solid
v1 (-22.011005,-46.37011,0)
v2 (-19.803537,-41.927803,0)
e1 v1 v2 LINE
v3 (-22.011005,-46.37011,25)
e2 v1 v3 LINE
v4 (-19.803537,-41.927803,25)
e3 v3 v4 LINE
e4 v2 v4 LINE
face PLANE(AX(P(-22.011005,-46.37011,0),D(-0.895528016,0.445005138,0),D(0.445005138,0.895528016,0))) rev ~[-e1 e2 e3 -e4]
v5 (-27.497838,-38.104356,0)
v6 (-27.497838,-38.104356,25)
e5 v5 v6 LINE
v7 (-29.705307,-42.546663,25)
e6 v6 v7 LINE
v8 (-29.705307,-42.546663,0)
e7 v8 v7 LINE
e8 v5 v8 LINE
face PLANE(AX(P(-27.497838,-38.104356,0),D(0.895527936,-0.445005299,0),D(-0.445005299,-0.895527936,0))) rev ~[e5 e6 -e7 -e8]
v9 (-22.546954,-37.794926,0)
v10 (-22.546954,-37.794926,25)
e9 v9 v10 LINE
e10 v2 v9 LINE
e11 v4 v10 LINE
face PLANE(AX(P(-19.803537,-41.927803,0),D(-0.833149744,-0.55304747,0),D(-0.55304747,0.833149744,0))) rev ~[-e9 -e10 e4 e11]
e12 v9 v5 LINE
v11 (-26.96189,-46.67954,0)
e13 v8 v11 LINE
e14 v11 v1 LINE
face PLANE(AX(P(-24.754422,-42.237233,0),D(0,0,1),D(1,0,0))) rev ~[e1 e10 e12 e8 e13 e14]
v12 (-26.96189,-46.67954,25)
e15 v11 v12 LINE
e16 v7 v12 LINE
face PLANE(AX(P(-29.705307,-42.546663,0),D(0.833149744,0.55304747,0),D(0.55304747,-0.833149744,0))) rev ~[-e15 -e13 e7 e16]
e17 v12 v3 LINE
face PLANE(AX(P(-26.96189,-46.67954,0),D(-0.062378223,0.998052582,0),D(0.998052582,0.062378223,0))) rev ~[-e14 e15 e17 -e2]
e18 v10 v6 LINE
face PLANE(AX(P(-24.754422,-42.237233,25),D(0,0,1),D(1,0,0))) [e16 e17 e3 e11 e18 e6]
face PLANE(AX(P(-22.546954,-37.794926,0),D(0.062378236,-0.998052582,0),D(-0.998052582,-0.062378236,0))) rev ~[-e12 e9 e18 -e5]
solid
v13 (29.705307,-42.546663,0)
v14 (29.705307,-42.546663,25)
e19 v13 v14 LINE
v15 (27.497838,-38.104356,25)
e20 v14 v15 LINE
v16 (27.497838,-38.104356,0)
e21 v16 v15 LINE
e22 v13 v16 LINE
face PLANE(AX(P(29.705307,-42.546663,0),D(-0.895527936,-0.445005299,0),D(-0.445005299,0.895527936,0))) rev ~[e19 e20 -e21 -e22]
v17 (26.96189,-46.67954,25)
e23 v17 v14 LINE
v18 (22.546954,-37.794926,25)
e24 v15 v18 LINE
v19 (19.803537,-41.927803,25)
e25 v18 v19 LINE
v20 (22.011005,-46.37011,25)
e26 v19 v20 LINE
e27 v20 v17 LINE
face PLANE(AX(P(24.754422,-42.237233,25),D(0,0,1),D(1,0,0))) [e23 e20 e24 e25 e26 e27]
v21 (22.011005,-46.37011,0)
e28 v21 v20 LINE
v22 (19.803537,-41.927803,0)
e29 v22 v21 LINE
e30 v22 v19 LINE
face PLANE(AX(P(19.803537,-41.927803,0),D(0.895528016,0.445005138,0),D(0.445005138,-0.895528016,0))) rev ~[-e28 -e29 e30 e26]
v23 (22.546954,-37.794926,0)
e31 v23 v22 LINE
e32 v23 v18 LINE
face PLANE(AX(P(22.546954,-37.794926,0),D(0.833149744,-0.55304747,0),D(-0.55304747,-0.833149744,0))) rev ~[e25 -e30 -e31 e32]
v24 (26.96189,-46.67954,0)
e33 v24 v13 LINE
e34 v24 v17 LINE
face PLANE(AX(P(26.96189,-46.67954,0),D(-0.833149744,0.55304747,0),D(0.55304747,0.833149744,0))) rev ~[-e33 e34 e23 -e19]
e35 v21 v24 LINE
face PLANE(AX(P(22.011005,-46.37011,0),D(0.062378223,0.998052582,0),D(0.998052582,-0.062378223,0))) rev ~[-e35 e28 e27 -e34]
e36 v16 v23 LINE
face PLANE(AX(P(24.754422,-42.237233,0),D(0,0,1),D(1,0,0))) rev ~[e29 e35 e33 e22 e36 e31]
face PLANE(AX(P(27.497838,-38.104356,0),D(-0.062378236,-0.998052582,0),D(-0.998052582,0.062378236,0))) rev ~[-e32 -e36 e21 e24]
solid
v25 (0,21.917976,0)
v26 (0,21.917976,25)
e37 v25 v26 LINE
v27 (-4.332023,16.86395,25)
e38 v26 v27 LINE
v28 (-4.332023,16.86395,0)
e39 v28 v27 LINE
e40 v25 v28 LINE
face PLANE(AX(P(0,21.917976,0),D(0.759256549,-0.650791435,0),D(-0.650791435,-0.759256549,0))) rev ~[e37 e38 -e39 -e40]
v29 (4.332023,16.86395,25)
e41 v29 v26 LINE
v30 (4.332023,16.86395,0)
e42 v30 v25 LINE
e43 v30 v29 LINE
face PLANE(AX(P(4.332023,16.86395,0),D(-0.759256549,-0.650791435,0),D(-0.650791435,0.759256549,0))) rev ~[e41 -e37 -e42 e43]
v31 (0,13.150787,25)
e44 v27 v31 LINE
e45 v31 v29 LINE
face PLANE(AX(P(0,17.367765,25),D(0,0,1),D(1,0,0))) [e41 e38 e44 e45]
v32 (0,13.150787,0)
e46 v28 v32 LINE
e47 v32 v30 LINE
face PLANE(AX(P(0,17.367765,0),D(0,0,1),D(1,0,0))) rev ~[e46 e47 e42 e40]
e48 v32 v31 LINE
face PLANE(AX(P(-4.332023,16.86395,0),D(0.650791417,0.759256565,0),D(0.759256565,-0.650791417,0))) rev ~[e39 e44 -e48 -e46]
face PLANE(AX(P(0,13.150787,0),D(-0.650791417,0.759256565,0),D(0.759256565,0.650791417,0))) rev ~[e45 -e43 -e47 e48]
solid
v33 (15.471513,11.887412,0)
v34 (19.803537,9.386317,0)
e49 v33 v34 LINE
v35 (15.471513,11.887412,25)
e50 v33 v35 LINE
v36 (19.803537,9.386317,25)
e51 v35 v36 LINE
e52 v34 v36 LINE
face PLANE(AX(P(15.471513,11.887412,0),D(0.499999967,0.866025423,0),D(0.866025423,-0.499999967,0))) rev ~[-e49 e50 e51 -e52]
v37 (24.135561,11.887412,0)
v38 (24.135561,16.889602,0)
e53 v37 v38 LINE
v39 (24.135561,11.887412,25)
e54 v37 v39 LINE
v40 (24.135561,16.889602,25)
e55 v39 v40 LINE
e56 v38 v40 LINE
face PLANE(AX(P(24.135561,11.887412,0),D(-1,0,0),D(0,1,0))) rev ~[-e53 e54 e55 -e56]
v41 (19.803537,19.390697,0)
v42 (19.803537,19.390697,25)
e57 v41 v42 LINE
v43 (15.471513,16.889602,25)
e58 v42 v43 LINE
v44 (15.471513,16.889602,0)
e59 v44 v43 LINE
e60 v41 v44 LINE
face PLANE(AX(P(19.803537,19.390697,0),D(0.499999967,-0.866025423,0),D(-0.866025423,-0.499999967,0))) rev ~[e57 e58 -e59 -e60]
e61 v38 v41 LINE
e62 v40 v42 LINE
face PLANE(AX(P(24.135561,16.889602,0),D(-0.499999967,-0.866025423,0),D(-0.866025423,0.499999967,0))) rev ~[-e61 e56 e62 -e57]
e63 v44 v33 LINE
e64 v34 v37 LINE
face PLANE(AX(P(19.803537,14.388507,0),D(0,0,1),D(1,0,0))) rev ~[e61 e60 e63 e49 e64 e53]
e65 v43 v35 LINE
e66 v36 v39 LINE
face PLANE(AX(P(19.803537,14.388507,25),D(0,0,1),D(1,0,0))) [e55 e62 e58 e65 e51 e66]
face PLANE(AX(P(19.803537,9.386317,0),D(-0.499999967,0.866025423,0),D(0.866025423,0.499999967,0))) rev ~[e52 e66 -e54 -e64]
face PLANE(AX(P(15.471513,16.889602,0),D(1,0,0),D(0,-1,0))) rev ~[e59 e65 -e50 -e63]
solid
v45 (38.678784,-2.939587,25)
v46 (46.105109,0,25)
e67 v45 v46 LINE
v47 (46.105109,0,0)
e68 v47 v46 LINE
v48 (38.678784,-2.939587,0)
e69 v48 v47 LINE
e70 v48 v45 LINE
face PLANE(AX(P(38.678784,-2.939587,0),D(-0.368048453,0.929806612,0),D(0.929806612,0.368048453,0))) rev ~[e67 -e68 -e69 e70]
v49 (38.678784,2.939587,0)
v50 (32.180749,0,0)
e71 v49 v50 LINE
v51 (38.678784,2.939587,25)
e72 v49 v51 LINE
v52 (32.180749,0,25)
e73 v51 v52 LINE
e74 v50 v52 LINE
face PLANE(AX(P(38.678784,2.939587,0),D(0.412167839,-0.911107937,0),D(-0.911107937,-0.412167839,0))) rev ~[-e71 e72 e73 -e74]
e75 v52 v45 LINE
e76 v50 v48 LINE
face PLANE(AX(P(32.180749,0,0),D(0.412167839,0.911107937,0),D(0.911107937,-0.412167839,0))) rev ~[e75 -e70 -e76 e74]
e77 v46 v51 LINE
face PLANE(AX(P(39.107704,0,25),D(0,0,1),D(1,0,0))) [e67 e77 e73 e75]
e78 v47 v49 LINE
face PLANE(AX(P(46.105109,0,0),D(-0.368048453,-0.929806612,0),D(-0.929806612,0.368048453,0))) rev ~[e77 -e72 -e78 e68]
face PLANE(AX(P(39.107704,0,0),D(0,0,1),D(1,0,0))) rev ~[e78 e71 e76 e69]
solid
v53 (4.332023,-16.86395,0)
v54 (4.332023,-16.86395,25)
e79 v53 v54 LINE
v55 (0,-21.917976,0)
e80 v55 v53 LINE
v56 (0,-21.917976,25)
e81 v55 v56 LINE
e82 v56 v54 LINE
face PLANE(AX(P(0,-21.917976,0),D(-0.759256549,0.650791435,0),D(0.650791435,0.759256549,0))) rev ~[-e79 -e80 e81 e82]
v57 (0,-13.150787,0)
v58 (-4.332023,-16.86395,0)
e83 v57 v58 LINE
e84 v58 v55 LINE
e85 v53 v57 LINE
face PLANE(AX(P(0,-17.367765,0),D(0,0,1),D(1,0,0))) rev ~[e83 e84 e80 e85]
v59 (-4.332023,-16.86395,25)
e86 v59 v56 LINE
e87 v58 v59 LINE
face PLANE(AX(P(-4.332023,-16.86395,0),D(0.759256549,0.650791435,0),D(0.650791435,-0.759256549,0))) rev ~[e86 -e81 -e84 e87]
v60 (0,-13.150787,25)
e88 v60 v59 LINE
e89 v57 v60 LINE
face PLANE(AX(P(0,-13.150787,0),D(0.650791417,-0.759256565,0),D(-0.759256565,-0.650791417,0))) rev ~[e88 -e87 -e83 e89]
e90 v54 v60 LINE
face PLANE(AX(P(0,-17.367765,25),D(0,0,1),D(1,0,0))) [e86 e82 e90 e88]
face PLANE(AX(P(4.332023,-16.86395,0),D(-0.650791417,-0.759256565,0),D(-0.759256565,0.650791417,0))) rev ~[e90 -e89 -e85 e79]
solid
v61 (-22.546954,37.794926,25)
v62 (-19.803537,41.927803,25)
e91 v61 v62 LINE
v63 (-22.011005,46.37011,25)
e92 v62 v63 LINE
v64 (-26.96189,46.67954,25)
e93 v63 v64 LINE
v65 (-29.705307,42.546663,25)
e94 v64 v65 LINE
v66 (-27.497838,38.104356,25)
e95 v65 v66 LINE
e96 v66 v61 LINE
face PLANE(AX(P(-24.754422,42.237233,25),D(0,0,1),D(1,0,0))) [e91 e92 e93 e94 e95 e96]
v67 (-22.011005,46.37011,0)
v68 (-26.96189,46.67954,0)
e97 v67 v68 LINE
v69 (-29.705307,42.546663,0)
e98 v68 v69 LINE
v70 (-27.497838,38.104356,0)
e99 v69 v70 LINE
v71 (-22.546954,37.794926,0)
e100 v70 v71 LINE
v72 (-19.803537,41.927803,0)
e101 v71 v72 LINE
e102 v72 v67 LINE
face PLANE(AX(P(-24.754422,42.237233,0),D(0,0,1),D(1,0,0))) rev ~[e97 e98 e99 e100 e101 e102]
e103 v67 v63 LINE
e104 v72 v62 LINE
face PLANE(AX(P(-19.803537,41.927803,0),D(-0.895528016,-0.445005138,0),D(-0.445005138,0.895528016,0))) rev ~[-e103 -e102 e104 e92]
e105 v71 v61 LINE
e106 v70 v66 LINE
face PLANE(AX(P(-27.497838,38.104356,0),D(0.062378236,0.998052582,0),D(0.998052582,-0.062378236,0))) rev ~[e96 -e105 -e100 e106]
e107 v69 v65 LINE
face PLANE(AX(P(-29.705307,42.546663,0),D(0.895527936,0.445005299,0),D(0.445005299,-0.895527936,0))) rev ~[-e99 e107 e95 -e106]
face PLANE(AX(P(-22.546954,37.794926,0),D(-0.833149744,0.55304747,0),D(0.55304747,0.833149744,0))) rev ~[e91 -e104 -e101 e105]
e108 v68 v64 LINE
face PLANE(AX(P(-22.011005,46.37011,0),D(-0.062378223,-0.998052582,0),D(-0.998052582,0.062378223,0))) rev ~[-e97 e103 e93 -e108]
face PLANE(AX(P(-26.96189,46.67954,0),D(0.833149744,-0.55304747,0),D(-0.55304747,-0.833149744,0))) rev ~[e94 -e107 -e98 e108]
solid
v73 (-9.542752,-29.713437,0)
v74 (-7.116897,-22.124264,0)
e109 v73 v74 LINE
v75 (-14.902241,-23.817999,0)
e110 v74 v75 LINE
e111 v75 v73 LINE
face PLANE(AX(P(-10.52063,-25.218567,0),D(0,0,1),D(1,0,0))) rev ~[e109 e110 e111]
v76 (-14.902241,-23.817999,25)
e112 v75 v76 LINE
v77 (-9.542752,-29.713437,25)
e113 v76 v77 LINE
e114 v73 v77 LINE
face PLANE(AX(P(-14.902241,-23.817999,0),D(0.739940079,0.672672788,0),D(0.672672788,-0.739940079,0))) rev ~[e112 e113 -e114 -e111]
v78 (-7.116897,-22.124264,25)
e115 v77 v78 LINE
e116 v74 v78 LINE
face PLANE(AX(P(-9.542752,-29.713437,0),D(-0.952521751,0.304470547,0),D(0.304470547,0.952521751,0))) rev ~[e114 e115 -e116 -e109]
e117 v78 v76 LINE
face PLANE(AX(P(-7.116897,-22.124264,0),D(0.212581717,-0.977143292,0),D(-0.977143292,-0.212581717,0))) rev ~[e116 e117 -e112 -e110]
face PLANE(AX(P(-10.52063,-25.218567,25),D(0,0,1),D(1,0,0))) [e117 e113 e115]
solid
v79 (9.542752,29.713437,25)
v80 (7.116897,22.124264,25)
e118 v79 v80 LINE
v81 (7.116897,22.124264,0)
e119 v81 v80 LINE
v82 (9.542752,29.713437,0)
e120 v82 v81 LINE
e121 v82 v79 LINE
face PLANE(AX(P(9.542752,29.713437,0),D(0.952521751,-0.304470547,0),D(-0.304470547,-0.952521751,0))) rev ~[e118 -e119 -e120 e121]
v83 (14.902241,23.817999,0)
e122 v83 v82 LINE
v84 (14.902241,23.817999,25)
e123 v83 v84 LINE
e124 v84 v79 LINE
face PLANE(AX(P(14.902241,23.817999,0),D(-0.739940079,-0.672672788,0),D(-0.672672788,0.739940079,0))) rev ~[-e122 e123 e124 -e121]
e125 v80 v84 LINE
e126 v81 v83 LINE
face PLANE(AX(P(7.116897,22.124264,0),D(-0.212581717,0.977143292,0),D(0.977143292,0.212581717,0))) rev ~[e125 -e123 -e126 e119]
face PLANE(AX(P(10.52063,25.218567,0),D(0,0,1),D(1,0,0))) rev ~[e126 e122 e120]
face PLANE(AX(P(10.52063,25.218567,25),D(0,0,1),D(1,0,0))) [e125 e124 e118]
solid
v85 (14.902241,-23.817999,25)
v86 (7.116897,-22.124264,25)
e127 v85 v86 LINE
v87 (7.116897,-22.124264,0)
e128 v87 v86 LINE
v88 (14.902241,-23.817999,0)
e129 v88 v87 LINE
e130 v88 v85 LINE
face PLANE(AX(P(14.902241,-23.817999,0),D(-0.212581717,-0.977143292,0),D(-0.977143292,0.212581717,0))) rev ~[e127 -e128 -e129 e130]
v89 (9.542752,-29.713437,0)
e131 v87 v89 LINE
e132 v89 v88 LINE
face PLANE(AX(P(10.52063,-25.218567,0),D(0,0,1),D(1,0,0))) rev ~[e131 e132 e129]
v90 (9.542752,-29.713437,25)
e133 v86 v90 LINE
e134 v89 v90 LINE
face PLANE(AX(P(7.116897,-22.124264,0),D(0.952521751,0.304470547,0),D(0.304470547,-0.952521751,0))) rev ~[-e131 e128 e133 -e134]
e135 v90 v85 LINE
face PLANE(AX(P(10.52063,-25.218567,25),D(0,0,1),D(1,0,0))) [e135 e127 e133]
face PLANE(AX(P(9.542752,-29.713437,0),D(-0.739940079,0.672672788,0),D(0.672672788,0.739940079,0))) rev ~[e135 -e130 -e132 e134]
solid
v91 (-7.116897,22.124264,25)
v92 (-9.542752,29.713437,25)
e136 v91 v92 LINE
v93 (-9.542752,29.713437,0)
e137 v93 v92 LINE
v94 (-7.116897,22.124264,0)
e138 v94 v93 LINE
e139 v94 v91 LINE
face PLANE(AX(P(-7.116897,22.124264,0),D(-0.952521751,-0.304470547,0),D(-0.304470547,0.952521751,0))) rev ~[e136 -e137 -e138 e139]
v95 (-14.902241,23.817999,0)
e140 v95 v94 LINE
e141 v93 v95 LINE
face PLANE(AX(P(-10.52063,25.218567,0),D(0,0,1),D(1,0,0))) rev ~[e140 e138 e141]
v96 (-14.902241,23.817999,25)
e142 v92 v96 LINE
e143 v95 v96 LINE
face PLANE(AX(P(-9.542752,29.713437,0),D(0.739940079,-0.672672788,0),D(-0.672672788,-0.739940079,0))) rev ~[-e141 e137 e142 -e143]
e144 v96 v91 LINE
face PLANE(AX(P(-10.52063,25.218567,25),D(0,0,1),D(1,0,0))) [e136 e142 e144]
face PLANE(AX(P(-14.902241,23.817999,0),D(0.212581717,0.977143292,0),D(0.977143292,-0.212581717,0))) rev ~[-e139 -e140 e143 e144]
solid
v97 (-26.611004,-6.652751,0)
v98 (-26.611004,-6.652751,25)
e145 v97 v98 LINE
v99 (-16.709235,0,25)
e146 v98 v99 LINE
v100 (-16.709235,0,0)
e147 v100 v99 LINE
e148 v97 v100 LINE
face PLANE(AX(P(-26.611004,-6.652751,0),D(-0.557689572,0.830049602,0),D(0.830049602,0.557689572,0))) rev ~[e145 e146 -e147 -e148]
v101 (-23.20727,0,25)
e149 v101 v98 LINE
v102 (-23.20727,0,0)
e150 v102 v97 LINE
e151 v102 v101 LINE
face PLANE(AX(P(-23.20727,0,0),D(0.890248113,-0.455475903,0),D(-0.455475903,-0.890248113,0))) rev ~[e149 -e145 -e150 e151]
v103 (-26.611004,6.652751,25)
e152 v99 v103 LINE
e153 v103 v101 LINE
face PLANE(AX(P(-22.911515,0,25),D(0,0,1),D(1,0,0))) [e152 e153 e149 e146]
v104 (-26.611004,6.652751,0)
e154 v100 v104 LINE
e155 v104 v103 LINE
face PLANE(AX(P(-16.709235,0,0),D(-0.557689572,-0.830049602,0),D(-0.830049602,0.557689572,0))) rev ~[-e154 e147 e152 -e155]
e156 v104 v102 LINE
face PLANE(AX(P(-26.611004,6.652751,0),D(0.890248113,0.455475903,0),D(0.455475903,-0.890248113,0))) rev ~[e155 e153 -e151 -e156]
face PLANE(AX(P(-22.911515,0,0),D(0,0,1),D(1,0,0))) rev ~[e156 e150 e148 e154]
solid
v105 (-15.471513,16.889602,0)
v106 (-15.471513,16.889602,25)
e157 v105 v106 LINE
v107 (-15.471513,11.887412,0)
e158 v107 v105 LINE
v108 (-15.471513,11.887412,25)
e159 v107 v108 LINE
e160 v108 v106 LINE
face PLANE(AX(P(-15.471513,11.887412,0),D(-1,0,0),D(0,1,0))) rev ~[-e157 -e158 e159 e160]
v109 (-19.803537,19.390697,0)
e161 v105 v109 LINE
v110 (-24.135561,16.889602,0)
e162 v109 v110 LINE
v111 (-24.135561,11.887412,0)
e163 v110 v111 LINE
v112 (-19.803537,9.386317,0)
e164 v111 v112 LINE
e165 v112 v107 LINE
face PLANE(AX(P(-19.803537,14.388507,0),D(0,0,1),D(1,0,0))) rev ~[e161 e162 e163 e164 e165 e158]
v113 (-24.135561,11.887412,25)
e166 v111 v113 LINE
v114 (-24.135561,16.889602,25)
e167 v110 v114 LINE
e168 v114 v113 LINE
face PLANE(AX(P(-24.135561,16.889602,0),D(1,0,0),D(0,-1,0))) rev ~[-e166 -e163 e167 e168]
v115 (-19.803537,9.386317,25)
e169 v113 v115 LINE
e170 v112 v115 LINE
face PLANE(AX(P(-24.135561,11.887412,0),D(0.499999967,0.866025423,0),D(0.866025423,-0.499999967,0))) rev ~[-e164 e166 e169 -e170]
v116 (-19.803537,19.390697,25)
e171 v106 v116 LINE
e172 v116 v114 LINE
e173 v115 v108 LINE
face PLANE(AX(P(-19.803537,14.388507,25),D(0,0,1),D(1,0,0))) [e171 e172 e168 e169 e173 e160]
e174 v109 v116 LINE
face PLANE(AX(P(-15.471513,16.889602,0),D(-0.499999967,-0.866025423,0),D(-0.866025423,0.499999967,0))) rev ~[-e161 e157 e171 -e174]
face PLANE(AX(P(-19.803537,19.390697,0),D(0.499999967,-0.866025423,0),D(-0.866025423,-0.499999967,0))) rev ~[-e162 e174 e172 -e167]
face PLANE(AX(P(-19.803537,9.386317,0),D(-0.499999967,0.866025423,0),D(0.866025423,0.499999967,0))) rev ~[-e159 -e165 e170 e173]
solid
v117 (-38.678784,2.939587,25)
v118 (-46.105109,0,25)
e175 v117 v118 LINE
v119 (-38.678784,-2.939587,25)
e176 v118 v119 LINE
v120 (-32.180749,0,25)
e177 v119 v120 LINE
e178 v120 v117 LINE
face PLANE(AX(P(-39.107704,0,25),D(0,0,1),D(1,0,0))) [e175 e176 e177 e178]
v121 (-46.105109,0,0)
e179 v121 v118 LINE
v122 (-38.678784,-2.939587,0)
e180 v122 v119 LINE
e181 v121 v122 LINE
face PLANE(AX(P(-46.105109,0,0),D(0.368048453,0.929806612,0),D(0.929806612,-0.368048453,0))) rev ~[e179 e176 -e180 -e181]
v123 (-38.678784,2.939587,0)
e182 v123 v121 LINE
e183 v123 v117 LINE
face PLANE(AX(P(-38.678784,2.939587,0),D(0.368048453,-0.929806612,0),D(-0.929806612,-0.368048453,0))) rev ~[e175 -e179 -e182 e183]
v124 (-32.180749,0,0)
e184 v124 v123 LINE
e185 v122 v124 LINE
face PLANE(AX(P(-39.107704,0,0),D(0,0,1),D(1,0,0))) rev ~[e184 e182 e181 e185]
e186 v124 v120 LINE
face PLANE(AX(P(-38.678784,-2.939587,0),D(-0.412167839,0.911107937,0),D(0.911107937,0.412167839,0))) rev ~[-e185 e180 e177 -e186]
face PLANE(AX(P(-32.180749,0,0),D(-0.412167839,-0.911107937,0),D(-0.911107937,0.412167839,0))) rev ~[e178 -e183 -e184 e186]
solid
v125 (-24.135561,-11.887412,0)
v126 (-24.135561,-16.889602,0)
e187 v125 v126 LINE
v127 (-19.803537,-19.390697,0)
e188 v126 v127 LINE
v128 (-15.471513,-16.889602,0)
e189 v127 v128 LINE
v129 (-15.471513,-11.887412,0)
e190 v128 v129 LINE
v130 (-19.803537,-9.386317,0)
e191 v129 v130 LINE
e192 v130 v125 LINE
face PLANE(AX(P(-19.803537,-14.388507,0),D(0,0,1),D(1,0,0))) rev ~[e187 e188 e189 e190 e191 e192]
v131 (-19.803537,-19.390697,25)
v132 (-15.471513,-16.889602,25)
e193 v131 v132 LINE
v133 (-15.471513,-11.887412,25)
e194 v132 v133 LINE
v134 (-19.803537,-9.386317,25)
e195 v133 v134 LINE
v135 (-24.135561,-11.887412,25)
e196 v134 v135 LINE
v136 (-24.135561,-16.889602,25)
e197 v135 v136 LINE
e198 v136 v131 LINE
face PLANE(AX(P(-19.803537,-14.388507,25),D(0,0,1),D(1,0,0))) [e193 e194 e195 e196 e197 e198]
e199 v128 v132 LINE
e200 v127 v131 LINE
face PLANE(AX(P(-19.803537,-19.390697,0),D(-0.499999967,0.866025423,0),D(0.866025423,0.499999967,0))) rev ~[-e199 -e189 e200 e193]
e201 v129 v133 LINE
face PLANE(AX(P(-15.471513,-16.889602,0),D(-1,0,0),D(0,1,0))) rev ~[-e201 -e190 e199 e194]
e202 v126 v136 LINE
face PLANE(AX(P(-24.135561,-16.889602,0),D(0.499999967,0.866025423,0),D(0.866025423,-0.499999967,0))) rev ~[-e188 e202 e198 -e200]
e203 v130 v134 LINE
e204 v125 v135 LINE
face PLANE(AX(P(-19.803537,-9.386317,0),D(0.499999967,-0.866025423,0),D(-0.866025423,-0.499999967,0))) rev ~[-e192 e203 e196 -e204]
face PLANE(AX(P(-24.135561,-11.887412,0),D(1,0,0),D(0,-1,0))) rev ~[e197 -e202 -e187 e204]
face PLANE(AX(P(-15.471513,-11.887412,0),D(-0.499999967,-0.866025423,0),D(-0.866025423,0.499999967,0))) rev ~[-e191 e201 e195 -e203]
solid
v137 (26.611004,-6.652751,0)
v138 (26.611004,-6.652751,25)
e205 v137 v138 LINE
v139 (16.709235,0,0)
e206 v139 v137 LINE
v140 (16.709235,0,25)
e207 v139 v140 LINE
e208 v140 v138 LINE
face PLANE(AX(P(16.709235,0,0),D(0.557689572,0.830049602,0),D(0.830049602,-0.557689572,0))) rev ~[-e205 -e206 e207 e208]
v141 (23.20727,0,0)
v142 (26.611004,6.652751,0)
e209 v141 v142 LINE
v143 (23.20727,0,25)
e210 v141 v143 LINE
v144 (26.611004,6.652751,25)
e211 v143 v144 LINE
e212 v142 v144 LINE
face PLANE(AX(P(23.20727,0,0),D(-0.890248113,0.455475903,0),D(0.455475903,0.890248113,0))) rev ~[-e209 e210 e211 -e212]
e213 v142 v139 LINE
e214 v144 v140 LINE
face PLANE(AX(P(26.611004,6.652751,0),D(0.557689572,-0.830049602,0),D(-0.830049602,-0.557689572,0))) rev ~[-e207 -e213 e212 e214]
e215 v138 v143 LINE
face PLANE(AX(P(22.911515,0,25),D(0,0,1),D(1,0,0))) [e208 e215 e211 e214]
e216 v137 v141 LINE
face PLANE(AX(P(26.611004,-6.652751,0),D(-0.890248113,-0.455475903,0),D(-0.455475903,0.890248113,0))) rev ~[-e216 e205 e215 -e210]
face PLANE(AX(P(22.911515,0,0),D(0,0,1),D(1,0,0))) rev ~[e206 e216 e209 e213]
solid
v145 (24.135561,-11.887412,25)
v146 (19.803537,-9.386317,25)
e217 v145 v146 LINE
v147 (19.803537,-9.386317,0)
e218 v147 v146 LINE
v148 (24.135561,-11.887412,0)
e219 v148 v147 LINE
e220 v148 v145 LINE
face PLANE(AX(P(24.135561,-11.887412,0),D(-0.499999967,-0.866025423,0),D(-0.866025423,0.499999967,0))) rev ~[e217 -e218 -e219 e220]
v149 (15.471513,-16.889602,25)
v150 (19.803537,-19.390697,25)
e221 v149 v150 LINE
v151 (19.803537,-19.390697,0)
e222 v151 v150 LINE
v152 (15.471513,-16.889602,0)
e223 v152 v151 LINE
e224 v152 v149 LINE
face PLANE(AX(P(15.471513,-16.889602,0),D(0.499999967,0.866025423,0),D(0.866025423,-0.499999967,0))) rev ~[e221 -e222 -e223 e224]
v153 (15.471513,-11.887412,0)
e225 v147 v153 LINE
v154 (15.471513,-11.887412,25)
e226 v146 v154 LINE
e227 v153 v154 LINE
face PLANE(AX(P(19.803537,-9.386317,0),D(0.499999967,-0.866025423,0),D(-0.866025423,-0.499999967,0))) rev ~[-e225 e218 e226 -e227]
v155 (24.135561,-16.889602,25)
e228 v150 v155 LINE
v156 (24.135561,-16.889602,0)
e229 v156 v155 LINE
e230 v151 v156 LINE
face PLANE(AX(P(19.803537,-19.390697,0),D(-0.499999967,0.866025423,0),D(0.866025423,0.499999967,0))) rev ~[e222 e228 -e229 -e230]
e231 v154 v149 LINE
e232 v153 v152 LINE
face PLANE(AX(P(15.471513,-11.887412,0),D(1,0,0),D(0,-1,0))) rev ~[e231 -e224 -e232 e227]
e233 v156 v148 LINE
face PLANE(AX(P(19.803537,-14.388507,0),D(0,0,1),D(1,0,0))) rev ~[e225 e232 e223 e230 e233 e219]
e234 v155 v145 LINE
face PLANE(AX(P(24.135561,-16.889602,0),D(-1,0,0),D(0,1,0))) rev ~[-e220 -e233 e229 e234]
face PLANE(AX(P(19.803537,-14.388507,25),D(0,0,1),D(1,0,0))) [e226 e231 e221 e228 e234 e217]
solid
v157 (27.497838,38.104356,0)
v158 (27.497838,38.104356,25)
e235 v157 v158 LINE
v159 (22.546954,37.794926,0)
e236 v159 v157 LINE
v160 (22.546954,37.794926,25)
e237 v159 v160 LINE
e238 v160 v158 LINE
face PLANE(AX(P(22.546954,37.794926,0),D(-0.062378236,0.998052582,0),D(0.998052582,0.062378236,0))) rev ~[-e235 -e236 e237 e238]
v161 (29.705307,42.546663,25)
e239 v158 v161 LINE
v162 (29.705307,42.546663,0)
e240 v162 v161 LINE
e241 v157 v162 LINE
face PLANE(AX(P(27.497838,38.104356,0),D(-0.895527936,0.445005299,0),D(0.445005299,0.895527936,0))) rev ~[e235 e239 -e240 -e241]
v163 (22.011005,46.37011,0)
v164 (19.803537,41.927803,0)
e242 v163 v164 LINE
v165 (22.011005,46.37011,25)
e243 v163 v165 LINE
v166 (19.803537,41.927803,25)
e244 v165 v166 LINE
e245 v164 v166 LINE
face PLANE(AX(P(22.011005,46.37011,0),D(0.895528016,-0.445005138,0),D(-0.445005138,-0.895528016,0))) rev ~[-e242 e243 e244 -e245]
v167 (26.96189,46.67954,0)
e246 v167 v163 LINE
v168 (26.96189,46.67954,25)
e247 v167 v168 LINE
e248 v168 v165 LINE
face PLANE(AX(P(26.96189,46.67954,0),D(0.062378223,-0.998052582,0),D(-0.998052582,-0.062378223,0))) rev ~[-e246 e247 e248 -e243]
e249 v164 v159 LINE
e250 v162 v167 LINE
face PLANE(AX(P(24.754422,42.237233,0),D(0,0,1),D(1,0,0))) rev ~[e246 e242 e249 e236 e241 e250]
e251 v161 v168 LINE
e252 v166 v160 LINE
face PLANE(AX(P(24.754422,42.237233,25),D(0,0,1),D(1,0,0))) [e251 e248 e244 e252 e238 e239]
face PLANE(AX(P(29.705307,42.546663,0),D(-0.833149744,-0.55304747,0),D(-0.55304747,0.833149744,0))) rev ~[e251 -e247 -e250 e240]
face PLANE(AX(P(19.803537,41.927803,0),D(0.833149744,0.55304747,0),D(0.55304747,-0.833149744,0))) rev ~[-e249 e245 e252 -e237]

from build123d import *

# Parameters (mm, degrees)
F2_DEPTH = 25


with BuildPart() as f2:
    # F1 (on face) → F2 (new body)
    with BuildSketch(Plane.XY):
        Polygon((-22.546954, 37.794926), (-19.803537, 41.927803), (-22.011005, 46.37011), (-26.96189, 46.67954), (-29.705307, 42.546663), (-27.497838, 38.104356), align=None)
        Polygon((-19.803537, -41.927803), (-22.546954, -37.794926), (-27.497838, -38.104356), (-29.705307, -42.546663), (-26.96189, -46.67954), (-22.011005, -46.37011), align=None)
        Polygon((19.803537, 41.927803), (22.546954, 37.794926), (27.497838, 38.104356), (29.705307, 42.546663), (26.96189, 46.67954), (22.011005, 46.37011), align=None)
        Polygon((27.497838, -38.104356), (22.546954, -37.794926), (19.803537, -41.927803), (22.011005, -46.37011), (26.96189, -46.67954), (29.705307, -42.546663), align=None)
        Polygon((-15.471513, 11.887412), (-15.471513, 16.889602), (-19.803537, 19.390697), (-24.135561, 16.889602), (-24.135561, 11.887412), (-19.803537, 9.386317), align=None)
        Polygon((-14.902241, 23.817999), (-7.116897, 22.124264), (-9.542752, 29.713437), align=None)
        Polygon((9.542752, 29.713437), (7.116897, 22.124264), (14.902241, 23.817999), align=None)
        Polygon((15.471513, 11.887412), (19.803537, 9.386317), (24.135561, 11.887412), (24.135561, 16.889602), (19.803537, 19.390697), (15.471513, 16.889602), align=None)
        Polygon((14.902241, -23.817999), (7.116897, -22.124264), (9.542752, -29.713437), align=None)
        Polygon((-14.902241, -23.817999), (-9.542752, -29.713437), (-7.116897, -22.124264), align=None)
        Polygon((-24.135561, -16.889602), (-19.803537, -19.390697), (-15.471513, -16.889602), (-15.471513, -11.887412), (-19.803537, -9.386317), (-24.135561, -11.887412), align=None)
        Polygon((15.471513, -16.889602), (19.803537, -19.390697), (24.135561, -16.889602), (24.135561, -11.887412), (19.803537, -9.386317), (15.471513, -11.887412), align=None)
        Polygon((-26.611004, -6.652751), (-16.709235, 0), (-26.611004, 6.652751), (-23.20727, 0), align=None)
        Polygon((-4.332023, 16.86395), (0, 13.150787), (4.332023, 16.86395), (0, 21.917976), align=None)
        Polygon((0, -13.150787), (-4.332023, -16.86395), (0, -21.917976), (4.332023, -16.86395), align=None)
        Polygon((26.611004, 6.652751), (16.709235, 0), (26.611004, -6.652751), (23.20727, 0), align=None)
        Polygon((-38.678784, 2.939587), (-46.105109, 0), (-38.678784, -2.939587), (-32.180749, 0), align=None)
        Polygon((46.105109, 0), (38.678784, 2.939587), (32.180749, 0), (38.678784, -2.939587), align=None)
    extrude(amount=F2_DEPTH)


solid = f2.part
